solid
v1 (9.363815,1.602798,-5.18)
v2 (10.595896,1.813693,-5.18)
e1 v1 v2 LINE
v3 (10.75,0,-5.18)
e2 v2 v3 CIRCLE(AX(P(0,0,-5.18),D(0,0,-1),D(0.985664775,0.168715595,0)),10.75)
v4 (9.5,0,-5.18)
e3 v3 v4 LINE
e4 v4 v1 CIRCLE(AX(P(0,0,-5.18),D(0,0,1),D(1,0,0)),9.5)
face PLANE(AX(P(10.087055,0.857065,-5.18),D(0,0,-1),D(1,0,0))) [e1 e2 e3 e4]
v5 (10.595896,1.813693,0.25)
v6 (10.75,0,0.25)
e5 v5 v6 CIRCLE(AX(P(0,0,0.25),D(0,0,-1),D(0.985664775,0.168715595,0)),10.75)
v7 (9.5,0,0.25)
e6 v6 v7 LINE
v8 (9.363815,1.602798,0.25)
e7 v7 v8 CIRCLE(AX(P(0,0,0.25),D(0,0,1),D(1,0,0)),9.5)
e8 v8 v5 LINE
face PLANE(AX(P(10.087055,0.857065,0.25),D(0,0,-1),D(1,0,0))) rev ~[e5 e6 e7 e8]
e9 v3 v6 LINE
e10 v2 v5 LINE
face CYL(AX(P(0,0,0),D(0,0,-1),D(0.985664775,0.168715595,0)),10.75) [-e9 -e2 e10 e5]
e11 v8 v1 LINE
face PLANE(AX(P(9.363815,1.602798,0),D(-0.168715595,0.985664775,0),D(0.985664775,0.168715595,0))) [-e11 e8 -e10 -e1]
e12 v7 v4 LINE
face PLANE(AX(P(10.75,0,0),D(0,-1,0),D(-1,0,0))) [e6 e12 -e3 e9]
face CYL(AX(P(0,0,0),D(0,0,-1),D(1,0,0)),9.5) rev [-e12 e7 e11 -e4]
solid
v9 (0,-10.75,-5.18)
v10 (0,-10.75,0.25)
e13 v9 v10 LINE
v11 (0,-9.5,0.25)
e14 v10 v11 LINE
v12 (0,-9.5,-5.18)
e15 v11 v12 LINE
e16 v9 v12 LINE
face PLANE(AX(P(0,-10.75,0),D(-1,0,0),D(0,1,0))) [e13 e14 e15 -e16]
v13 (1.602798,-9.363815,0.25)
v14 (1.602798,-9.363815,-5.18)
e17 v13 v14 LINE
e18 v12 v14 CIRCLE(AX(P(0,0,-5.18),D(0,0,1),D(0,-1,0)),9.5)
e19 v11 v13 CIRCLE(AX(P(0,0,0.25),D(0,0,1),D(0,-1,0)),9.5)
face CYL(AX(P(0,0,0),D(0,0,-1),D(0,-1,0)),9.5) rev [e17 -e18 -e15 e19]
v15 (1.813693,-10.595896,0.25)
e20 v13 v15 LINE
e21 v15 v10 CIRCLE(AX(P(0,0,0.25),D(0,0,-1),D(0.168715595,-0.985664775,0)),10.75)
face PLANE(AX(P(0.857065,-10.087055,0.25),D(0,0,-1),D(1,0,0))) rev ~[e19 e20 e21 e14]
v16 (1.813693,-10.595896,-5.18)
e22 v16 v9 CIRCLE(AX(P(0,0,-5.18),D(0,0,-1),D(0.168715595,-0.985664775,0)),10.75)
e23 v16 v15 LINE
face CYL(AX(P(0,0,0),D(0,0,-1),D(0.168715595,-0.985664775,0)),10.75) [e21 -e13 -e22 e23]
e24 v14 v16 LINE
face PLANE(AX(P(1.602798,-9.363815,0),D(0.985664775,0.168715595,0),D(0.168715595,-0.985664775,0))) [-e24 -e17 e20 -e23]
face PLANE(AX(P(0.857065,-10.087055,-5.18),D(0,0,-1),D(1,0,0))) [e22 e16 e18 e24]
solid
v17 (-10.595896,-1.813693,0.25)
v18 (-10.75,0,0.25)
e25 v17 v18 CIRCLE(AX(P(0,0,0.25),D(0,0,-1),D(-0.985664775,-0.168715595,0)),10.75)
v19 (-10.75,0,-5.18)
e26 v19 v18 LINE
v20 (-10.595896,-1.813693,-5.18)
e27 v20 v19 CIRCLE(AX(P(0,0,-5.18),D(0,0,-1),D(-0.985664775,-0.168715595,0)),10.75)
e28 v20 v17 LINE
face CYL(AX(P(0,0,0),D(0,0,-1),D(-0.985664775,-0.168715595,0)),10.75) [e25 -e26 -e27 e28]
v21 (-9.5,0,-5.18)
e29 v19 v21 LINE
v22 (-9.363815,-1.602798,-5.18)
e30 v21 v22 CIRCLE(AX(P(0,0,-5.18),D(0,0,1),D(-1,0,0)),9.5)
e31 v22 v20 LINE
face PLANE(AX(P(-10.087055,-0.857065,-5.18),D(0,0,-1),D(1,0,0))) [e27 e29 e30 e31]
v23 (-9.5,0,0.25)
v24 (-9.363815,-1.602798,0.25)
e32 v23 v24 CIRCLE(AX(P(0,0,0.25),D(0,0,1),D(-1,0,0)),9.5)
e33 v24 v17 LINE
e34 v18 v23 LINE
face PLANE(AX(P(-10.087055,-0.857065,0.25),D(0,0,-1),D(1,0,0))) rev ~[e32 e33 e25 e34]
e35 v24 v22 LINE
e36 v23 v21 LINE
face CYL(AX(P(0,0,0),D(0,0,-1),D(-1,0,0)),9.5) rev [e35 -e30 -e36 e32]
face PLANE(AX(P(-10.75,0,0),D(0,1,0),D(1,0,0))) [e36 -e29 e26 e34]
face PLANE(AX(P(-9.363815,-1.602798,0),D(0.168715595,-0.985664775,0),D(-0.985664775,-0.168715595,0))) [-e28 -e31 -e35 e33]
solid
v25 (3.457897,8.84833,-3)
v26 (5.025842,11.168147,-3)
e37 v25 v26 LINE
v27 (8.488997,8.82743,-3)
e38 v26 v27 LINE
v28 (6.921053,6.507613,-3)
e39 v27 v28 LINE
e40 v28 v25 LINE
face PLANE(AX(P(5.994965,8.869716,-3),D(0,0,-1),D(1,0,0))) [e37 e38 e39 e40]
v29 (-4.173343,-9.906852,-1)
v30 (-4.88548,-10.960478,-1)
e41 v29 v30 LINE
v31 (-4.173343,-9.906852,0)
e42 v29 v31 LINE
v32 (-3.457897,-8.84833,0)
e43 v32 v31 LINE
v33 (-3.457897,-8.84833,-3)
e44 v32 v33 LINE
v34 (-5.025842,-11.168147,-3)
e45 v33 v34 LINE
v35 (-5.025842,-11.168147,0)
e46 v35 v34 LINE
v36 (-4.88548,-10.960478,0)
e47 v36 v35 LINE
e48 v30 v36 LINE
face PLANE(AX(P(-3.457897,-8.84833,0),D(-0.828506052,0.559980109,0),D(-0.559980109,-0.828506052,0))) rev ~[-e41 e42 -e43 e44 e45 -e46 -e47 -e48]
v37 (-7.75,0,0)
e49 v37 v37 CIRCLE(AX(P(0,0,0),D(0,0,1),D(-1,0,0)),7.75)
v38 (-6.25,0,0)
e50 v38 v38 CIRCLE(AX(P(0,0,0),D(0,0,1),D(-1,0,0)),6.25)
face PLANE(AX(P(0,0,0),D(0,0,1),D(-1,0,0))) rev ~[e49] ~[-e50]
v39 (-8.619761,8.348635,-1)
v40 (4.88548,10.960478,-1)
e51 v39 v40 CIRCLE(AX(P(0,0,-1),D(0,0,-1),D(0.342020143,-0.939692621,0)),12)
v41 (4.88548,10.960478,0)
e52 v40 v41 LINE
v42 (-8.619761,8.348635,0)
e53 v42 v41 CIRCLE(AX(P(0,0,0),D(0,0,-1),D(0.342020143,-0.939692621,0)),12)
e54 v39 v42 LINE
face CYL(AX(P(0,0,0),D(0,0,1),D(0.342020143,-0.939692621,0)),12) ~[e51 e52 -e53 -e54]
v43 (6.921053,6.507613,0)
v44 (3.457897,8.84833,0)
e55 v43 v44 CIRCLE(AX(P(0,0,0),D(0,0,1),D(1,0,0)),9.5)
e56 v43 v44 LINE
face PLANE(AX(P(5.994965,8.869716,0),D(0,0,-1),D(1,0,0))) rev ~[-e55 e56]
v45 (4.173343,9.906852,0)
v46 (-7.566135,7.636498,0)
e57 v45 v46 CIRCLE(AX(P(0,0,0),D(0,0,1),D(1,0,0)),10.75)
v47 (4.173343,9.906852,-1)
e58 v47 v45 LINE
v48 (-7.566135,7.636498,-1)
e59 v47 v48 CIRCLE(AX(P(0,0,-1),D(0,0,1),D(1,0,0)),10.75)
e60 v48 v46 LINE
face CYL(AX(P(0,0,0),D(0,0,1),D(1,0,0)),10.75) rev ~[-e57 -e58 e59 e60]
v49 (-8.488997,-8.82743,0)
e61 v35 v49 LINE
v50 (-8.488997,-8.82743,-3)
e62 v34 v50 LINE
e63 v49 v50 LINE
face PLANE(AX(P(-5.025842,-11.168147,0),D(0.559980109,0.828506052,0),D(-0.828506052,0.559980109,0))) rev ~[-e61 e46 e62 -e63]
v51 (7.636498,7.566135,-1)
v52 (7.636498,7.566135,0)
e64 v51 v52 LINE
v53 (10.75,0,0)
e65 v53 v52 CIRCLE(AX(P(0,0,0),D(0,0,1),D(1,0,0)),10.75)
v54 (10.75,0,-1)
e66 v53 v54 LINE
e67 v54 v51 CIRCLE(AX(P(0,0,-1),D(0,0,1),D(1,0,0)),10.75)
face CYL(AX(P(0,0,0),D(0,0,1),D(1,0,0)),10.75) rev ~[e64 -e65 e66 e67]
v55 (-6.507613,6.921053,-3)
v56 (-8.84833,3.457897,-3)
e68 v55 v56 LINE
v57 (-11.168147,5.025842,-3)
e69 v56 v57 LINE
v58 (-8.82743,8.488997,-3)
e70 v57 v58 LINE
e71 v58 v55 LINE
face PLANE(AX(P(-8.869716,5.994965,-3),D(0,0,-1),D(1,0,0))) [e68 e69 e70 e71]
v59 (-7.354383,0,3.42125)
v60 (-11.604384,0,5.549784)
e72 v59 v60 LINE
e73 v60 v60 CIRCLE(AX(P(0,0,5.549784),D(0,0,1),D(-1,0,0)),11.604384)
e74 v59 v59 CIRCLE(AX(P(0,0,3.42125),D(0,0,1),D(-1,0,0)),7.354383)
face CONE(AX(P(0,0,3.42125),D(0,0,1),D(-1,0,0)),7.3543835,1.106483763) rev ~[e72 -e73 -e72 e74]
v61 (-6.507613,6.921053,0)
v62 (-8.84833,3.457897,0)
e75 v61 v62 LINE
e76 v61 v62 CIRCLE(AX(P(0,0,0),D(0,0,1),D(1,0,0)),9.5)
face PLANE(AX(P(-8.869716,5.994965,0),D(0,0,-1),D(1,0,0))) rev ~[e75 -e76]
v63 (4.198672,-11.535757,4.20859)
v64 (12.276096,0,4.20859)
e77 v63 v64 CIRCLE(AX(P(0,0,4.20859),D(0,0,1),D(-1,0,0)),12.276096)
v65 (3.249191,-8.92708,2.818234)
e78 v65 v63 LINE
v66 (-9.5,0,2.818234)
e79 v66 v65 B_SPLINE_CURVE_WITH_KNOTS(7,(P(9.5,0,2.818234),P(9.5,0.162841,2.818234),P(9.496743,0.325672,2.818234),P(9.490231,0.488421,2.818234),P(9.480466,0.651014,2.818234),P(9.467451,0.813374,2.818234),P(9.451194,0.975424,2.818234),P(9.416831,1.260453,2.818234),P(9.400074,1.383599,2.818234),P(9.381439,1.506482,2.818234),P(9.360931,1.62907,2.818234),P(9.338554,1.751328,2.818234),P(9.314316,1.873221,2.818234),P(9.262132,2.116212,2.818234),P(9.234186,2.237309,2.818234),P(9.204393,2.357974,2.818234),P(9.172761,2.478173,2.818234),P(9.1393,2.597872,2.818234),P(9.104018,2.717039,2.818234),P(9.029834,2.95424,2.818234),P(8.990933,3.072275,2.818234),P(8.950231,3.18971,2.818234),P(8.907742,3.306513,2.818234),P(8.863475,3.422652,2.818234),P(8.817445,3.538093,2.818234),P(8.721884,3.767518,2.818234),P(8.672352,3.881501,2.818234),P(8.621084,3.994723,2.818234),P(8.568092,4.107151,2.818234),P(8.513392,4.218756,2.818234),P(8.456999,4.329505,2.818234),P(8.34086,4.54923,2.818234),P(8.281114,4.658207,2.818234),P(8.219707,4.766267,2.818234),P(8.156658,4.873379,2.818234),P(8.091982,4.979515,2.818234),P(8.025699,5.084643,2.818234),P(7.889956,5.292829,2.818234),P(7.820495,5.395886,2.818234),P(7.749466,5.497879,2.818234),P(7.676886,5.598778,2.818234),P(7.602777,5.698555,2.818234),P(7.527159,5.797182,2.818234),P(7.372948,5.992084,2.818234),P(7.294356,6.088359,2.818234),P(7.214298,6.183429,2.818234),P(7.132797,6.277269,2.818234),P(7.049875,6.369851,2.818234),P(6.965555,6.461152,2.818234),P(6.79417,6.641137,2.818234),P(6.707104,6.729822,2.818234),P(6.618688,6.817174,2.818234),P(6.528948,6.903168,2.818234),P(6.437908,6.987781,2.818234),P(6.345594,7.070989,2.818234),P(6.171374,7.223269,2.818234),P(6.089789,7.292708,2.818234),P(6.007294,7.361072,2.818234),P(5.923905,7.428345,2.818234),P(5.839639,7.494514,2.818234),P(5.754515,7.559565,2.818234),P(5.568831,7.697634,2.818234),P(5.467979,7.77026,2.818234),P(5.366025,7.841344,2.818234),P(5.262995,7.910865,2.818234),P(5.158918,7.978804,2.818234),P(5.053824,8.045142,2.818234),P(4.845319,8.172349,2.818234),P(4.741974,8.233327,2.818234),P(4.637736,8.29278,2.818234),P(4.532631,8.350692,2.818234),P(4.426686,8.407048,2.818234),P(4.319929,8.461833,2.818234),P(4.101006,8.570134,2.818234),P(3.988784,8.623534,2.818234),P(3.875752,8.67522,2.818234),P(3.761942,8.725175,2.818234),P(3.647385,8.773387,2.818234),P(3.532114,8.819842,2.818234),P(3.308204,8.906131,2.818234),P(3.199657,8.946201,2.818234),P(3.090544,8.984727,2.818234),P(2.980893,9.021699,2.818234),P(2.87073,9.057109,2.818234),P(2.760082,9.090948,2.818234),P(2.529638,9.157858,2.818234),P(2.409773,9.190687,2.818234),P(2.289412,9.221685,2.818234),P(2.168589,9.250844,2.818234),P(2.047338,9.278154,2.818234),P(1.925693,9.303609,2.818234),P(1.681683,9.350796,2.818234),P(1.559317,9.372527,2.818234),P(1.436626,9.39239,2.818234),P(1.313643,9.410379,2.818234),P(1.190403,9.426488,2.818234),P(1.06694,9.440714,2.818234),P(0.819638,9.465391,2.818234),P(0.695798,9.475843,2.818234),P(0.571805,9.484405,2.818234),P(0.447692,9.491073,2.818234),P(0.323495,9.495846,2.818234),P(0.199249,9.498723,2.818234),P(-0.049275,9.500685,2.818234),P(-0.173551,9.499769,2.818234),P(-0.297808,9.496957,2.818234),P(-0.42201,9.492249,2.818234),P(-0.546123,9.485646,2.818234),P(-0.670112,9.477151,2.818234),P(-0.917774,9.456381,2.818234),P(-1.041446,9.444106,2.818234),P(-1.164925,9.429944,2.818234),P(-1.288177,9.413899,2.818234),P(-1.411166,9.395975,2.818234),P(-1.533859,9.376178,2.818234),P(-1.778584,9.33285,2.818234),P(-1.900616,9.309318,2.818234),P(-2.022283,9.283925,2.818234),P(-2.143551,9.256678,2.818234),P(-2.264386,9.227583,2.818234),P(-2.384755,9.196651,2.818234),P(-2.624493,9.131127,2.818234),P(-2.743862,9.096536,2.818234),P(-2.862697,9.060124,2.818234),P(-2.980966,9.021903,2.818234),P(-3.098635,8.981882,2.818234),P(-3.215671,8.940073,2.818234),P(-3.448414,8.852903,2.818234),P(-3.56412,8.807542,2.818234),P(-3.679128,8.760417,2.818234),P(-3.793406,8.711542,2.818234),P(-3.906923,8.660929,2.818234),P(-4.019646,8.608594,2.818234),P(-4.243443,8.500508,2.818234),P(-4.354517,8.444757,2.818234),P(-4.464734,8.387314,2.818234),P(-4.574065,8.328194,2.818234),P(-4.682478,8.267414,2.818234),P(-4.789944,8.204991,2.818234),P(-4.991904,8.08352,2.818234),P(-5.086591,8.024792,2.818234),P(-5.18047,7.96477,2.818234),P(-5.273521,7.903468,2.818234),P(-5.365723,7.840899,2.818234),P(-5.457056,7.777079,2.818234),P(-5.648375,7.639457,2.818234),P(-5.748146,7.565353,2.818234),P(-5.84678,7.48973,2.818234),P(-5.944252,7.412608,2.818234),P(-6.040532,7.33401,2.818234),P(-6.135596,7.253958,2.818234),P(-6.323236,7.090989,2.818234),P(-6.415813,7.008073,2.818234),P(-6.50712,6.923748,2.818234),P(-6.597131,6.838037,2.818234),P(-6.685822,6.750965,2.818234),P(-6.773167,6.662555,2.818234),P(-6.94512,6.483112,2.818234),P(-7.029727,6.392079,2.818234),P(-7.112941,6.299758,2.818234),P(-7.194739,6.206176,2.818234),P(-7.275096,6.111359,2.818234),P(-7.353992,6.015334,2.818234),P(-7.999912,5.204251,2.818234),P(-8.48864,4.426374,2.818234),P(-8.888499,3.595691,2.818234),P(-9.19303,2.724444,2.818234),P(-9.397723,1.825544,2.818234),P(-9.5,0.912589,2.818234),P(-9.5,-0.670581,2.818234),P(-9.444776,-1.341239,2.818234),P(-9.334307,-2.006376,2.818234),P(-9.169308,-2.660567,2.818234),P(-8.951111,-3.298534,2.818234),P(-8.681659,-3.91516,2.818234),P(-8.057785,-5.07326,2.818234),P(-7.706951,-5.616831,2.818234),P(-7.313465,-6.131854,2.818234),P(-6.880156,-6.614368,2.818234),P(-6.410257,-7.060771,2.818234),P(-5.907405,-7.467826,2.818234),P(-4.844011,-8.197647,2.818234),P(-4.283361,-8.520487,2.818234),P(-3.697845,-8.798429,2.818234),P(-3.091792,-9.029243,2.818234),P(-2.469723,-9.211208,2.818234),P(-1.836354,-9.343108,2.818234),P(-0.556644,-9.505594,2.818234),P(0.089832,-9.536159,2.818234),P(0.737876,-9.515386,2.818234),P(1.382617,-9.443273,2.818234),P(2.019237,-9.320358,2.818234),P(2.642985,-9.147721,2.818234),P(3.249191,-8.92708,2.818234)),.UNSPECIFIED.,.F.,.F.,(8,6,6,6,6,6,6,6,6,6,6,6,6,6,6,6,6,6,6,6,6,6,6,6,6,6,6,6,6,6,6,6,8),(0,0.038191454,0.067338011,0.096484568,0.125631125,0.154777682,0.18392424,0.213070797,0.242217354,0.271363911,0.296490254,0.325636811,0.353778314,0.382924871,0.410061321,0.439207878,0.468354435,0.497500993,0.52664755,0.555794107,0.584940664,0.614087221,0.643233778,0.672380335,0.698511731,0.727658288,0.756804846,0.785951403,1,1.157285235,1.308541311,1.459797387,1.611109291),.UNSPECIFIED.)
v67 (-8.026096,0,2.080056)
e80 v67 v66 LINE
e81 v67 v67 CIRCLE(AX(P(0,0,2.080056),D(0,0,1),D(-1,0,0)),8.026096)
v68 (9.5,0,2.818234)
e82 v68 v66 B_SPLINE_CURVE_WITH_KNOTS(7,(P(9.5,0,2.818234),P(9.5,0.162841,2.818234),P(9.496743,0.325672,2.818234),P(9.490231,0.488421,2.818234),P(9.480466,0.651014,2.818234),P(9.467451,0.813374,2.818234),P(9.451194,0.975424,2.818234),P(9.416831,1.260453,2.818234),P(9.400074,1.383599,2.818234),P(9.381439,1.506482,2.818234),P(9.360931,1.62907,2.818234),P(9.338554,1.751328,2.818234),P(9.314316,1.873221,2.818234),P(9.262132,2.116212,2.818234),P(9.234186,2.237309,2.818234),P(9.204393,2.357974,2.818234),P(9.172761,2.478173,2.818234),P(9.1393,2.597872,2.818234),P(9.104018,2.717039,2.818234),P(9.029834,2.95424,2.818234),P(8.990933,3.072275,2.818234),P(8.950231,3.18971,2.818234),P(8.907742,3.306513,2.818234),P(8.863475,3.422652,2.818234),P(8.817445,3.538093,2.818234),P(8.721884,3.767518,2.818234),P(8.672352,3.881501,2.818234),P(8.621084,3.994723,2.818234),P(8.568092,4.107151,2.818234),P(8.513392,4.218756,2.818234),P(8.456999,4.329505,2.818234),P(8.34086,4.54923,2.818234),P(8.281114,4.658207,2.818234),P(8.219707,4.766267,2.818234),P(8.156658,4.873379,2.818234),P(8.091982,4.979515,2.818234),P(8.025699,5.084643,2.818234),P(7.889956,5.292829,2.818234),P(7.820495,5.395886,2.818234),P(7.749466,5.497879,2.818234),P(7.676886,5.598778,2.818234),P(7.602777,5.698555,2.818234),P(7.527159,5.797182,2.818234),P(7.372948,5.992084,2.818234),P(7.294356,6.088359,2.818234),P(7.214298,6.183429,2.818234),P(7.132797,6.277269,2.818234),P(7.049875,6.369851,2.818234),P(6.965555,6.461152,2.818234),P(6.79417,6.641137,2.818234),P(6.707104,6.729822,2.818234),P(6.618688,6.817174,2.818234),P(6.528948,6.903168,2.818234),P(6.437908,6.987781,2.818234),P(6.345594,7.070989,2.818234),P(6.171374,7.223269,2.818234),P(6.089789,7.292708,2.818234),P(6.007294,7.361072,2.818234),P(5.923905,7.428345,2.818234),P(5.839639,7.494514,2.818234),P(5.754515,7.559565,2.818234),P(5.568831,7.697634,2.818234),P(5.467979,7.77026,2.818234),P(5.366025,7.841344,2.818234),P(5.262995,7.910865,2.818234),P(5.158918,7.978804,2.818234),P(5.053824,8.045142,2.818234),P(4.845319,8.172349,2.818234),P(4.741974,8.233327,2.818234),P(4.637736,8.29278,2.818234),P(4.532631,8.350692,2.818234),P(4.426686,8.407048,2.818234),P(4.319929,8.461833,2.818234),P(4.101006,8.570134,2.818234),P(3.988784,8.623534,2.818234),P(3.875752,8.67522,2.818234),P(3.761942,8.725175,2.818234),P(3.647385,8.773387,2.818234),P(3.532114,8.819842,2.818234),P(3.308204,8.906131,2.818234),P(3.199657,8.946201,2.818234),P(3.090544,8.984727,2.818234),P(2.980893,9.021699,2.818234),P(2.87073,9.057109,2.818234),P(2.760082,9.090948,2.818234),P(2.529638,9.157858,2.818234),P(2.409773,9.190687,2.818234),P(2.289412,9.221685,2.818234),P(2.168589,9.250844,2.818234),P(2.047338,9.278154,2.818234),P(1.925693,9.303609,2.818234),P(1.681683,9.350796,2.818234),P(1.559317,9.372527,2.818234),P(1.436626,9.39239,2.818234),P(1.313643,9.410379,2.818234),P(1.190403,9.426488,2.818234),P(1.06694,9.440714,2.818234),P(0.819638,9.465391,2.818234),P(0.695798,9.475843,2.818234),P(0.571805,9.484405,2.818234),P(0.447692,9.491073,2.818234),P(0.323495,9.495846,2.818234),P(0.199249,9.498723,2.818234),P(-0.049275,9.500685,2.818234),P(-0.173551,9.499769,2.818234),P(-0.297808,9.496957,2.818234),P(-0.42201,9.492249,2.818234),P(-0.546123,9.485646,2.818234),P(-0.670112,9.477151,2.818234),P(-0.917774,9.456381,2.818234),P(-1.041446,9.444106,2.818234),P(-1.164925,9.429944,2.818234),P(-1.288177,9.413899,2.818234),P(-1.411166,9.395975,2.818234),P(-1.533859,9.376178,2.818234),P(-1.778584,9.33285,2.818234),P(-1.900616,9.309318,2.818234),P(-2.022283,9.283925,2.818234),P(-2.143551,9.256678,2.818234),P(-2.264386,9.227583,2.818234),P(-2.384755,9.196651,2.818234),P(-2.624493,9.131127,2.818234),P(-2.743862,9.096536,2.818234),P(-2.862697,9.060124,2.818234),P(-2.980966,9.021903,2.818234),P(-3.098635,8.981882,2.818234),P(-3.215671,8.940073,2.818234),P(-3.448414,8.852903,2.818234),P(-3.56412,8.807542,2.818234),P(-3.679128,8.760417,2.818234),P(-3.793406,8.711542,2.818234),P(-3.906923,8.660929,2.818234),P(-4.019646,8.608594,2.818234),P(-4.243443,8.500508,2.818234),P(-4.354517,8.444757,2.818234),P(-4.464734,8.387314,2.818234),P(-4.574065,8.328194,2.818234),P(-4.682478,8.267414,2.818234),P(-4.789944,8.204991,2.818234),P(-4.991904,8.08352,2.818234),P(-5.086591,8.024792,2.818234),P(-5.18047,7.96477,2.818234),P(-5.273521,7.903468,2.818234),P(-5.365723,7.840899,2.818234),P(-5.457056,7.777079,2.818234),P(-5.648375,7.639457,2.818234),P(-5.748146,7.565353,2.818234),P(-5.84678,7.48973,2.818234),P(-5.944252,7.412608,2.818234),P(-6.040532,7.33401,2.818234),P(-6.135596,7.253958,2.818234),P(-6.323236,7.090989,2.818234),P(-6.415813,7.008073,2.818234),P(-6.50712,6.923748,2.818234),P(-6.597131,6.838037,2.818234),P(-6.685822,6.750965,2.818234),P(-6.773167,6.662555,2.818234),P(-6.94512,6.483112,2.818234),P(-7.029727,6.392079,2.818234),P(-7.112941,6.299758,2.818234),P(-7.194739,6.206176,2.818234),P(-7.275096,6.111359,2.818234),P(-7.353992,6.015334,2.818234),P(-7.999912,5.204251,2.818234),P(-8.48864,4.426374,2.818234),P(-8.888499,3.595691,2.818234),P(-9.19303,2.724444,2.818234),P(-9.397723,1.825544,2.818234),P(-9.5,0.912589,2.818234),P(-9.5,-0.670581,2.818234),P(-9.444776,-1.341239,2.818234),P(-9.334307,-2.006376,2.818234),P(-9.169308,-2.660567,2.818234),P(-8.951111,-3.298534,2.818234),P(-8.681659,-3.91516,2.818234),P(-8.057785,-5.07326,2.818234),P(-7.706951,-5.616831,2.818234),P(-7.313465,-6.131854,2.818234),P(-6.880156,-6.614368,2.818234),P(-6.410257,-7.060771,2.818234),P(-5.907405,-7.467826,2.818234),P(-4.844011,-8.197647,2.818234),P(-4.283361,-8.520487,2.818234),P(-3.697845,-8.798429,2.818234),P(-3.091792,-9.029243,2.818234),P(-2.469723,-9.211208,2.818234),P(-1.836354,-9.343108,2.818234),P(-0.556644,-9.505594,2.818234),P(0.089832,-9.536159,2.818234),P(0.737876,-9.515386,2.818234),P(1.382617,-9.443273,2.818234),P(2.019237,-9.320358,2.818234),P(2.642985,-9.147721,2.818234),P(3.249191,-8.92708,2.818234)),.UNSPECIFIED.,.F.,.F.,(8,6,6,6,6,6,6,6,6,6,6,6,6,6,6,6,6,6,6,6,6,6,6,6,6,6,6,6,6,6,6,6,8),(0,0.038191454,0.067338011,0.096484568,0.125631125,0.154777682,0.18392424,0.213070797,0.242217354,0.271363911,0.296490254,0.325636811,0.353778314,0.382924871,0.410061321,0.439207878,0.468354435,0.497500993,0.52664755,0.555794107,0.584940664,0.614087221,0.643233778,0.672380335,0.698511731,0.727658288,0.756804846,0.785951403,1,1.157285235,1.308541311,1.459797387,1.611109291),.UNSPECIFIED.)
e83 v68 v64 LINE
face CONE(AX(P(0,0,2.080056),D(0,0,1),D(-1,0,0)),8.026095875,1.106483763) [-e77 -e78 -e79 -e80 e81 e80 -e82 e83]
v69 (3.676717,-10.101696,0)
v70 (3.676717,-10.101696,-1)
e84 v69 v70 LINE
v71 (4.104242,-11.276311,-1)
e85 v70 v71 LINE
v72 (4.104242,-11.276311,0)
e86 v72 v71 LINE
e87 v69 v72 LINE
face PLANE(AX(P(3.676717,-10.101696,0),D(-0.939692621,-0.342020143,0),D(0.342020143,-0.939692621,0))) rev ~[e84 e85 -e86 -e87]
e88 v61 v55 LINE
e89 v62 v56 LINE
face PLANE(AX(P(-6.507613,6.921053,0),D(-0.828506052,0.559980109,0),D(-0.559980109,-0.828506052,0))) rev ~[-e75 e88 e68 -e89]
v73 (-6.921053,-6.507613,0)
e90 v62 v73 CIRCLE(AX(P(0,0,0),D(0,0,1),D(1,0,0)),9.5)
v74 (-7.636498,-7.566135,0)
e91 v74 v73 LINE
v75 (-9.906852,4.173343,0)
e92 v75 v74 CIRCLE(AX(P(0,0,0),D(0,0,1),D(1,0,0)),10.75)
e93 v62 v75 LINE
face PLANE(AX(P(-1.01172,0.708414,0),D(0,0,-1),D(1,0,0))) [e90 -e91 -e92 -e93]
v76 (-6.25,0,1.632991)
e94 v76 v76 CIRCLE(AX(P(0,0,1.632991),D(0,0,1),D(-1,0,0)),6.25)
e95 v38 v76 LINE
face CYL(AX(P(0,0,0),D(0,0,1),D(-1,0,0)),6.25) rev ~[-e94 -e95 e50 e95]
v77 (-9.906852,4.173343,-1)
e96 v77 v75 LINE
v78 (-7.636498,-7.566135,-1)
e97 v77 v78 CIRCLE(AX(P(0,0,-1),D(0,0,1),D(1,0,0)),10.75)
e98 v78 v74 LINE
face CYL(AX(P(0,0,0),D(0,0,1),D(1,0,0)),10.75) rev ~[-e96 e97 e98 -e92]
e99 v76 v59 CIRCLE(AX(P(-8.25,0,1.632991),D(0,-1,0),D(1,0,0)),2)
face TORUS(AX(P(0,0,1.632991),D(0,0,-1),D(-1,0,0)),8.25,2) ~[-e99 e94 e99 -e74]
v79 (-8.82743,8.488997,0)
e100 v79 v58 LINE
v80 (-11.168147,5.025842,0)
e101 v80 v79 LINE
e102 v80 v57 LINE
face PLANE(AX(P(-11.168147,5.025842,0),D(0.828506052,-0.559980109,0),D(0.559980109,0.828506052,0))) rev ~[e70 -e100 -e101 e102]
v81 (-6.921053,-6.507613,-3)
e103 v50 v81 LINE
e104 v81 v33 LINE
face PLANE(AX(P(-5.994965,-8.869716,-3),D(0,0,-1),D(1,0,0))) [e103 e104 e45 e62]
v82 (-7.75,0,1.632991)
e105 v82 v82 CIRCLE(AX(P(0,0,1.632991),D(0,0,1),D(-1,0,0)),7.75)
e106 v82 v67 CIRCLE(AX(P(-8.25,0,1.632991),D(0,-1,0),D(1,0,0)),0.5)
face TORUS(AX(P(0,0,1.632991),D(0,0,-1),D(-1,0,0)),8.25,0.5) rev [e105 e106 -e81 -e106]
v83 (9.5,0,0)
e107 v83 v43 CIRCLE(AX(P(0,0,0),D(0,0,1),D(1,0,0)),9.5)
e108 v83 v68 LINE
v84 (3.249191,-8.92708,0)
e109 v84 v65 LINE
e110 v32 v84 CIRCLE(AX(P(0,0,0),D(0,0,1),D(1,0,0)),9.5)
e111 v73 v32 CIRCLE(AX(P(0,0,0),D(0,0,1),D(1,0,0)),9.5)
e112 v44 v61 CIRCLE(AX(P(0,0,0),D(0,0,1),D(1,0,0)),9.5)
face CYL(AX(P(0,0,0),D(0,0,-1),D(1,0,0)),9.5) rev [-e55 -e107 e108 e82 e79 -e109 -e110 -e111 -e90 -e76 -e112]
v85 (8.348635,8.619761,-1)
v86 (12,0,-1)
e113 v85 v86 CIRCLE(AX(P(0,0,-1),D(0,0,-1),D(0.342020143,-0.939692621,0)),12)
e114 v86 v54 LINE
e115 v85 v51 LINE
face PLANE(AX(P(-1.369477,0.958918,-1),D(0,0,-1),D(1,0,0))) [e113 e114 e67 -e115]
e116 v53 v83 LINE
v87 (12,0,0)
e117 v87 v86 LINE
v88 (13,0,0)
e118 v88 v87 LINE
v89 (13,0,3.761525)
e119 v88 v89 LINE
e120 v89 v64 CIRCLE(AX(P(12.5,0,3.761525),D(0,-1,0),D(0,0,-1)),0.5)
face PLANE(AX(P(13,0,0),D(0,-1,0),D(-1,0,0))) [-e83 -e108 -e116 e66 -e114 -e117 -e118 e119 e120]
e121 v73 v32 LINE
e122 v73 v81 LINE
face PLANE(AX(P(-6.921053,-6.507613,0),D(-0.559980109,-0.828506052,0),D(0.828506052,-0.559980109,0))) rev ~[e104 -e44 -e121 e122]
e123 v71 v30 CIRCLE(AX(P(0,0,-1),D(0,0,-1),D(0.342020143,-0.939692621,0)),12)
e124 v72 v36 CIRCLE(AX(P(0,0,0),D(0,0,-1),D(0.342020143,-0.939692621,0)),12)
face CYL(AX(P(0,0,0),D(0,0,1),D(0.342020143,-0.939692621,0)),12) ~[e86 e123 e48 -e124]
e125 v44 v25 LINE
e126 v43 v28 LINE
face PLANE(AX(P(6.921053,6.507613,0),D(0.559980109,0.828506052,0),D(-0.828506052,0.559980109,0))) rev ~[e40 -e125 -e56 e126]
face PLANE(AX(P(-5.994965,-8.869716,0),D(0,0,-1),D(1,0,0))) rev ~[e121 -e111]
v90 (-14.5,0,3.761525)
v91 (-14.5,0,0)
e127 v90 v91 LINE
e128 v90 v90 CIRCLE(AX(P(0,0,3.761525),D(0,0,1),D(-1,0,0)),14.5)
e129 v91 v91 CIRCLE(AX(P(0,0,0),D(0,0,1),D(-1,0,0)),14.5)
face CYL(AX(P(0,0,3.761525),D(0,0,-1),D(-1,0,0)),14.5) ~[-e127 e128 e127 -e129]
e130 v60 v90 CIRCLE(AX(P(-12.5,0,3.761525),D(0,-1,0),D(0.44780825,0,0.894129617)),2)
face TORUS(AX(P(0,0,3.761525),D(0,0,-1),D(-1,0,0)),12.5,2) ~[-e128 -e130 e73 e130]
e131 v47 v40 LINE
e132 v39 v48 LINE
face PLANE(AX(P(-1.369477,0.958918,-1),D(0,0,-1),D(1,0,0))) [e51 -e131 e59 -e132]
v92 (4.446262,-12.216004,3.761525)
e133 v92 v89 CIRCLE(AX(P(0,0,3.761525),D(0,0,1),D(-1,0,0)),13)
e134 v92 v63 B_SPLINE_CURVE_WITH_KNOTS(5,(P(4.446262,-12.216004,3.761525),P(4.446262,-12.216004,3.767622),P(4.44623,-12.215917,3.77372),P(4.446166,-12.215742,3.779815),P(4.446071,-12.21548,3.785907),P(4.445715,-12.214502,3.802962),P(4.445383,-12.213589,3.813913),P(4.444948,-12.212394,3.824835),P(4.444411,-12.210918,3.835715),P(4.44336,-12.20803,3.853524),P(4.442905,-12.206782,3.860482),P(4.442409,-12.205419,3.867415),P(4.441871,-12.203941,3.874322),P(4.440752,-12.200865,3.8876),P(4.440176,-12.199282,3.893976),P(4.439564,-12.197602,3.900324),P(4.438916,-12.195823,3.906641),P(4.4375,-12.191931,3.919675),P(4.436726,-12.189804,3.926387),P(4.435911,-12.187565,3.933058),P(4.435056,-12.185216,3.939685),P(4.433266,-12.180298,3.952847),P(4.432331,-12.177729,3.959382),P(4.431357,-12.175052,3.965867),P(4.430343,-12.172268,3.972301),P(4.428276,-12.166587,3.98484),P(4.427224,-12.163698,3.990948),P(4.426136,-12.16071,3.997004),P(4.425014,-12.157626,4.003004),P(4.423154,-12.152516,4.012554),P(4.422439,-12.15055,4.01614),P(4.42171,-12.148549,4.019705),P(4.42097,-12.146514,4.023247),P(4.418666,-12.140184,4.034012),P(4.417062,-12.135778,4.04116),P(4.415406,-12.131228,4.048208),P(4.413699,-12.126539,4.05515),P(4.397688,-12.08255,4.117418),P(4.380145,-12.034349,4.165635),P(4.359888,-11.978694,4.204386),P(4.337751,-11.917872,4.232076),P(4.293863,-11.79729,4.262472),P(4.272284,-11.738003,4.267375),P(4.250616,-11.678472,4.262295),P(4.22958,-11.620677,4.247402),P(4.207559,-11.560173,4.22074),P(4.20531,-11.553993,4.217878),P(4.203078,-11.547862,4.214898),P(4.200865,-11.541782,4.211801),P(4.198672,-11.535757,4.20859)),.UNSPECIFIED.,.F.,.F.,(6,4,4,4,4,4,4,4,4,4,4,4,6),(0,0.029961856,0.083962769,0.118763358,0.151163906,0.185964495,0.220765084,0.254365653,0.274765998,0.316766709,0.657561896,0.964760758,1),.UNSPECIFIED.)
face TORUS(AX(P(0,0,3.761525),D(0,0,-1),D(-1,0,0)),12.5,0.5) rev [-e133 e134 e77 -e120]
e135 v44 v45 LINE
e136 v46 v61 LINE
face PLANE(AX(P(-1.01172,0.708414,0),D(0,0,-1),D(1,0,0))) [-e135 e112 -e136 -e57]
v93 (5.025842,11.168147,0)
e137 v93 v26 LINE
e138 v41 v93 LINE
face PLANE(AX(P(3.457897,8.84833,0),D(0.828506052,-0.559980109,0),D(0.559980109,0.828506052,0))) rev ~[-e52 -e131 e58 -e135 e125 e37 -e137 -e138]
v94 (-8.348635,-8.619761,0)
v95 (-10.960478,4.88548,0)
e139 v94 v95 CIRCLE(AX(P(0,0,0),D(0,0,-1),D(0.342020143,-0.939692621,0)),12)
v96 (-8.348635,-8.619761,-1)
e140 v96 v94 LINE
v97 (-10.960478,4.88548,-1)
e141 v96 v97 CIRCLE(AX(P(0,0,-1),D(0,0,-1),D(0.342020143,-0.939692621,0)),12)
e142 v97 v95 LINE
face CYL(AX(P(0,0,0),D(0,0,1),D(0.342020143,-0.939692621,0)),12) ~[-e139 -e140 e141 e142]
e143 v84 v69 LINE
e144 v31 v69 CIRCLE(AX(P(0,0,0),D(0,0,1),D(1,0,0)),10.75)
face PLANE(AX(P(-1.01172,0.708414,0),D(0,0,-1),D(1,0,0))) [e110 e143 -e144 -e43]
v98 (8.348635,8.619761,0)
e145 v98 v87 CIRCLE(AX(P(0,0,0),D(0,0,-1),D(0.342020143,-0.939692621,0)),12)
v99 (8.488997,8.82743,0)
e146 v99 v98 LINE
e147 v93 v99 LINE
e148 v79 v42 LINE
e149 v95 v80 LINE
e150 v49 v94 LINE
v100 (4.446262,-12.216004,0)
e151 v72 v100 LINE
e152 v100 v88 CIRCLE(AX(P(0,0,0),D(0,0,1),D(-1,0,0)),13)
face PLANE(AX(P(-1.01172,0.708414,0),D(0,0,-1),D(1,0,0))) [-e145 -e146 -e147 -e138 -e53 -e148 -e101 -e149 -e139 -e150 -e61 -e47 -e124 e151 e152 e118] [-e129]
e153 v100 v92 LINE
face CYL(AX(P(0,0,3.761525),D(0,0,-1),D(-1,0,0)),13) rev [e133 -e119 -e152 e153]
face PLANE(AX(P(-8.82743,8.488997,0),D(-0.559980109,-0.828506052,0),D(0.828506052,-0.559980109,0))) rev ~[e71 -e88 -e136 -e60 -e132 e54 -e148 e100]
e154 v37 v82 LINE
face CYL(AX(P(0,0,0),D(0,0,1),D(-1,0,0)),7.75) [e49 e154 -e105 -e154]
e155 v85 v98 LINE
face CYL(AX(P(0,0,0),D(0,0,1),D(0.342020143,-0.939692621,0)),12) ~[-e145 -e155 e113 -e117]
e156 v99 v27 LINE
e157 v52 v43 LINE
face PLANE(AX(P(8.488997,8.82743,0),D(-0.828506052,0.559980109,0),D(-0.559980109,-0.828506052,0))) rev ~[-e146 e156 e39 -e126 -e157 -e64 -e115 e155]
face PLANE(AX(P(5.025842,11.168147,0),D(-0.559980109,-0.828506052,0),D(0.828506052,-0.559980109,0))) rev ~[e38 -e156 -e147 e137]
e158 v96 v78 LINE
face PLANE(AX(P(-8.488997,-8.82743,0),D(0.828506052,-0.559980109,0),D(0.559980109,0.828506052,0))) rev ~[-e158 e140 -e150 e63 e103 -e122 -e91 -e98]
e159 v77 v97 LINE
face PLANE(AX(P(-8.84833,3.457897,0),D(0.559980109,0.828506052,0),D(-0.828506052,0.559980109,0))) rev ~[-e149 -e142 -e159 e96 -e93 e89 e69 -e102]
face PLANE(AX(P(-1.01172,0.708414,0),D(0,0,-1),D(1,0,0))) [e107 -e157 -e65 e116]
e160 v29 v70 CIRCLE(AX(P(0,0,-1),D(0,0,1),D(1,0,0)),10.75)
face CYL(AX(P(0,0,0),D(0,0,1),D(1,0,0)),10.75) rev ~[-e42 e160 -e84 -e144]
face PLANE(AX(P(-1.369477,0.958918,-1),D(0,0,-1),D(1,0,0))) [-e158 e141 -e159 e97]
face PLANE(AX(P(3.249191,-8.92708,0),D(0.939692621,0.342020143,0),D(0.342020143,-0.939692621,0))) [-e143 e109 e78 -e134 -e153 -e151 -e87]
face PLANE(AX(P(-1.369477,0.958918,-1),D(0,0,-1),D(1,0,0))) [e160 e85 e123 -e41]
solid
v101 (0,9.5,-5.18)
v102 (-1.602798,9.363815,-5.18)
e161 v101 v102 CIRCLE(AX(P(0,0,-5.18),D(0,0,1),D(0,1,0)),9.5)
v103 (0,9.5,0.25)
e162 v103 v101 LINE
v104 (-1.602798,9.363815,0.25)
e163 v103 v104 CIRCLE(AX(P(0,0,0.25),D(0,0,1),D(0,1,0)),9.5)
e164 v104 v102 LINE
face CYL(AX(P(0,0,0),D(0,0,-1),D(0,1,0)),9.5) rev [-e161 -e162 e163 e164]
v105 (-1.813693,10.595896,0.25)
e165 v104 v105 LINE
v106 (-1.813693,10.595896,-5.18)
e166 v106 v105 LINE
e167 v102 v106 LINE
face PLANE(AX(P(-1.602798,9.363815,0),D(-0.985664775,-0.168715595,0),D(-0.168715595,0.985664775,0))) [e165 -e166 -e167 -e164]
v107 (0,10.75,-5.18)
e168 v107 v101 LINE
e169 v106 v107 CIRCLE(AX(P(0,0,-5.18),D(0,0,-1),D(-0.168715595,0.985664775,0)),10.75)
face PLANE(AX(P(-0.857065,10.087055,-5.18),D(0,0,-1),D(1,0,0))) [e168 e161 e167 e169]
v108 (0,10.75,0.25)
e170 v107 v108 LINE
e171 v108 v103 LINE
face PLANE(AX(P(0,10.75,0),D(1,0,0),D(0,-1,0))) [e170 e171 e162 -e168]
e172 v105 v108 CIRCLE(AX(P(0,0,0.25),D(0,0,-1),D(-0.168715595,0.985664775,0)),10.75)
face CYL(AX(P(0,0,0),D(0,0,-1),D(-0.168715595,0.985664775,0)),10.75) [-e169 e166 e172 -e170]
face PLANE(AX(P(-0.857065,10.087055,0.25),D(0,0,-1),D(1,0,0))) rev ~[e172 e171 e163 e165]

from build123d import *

# Parameters (mm, degrees)
F2_T           = -1.5
F6_DEPTH       = 3
F8_DEPTH       = 1
F10_DEPTH      = 5.18
F10_DEPTH_BACK = 0.25


with BuildPart() as f1:
    # F0 (on Front) → F1 (revolve)
    with BuildSketch(Plane.XZ):
        with BuildLine():
            Line((-14.5, 0), (-6.25, 0))
            Line((-6.25, 0), (-6.25, 1.632991153))
            ThreePointArc((-6.25, 1.632991153), (-6.5483488901, 2.6838876751), (-7.3543835, 3.4212503862))
            Line((-7.3543835, 3.4212503862), (-11.6043835, 5.5497841325))
            ThreePointArc((-11.6043835, 5.5497841325), (-13.550896522, 5.4631760093), (-14.5, 3.7615248994))
            Line((-14.5, 3.7615248994), (-14.5, 0))
        make_face()
    revolve(axis=Axis((0, 0, 5.6854286231), (0, 0, 1)))

    # F2
    f2_openings = [f1.faces().sort_by_distance(p)[0] for p in [
        (14.089878, 0, 0),
    ]]
    offset(amount=F2_T, openings=f2_openings)

    # F3 (on face) → F4 (join, up to the next surface of F1)
    with BuildSketch(Plane(origin=(0, 0, 0), x_dir=(1, 0, 0), z_dir=(0, 0, -1))):
        with BuildLine():
            ThreePointArc((4.4462618632, 12.2160040702), (-10.6489765758, -7.4564936726), (13, 0))
            Line((13, 0), (9.5, 0))
            ThreePointArc((9.5, 0), (-7.7819444207, -5.4489761453), (3.2491913616, 8.9270798975))
            Line((3.2491913616, 8.9270798975), (4.4462618632, 12.2160040702))
        make_face()
    extrude(until=Until.NEXT, dir=(0, 0, 1))

    # F5 (on face) → F6 (join)
    with BuildSketch(Plane(origin=(0, 0, 0), x_dir=(1, 0, 0), z_dir=(0, 0, -1))):
        with BuildLine():
            Line((-8.4889969369, 8.8274302143), (-6.9210526316, 6.5076132699))
            ThreePointArc((-6.9210526316, 6.5076132699), (-5.3198110359, 7.8708074899), (-3.457897336, 8.8483301257))
            Line((-3.457897336, 8.8483301257), (-5.0258416413, 11.1681470701))
            Line((-5.0258416413, 11.1681470701), (-8.4889969369, 8.8274302143))
        make_face()
        with BuildLine():
            Line((-8.8274302143, -8.4889969369), (-6.5076132699, -6.9210526316))
            ThreePointArc((-6.5076132699, -6.9210526316), (-7.8708074899, -5.3198110359), (-8.8483301257, -3.457897336))
            Line((-8.8483301257, -3.457897336), (-11.1681470701, -5.0258416413))
            Line((-11.1681470701, -5.0258416413), (-8.8274302143, -8.4889969369))
        make_face()
        with BuildLine():
            Line((8.4889969369, -8.8274302143), (6.9210526316, -6.5076132699))
            ThreePointArc((6.9210526316, -6.5076132699), (5.3198110359, -7.8708074899), (3.457897336, -8.8483301257))
            Line((3.457897336, -8.8483301257), (5.0258416413, -11.1681470701))
            Line((5.0258416413, -11.1681470701), (8.4889969369, -8.8274302143))
        make_face()
        with BuildLine():
            ThreePointArc((3.457897336, -8.8483301257), (5.3198110359, -7.8708074899), (6.9210526316, -6.5076132699))
            Line((6.9210526316, -6.5076132699), (3.457897336, -8.8483301257))
        make_face()
        with BuildLine():
            ThreePointArc((-8.8483301257, -3.457897336), (-7.8708074899, -5.3198110359), (-6.5076132699, -6.9210526316))
            Line((-6.5076132699, -6.9210526316), (-8.8483301257, -3.457897336))
        make_face()
        with BuildLine():
            ThreePointArc((-3.457897336, 8.8483301257), (-5.3198110359, 7.8708074899), (-6.9210526316, 6.5076132699))
            Line((-6.9210526316, 6.5076132699), (-3.457897336, 8.8483301257))
        make_face()
    extrude(amount=F6_DEPTH)

    # F7 (on face) → F8 (join)
    with BuildSketch(Plane(origin=(0, 0, 0), x_dir=(1, 0, 0), z_dir=(0, 0, -1))):
        with BuildLine():
            Line((3.6767165408, 10.1016956734), (4.1042417199, 11.2763114494))
            ThreePointArc((4.1042417199, 11.2763114494), (-9.8298245315, -6.8829172362), (12, 0))
            Line((12, 0), (10.75, 0))
            ThreePointArc((10.75, 0), (-8.8058844761, -6.1659466908), (3.6767165408, 10.1016956734))
        make_face()
    extrude(amount=F8_DEPTH)


with BuildPart() as f10:
    # F9 (on face) → F10 (new body, two sides)
    with BuildSketch(Plane(origin=(0, 0, 0), x_dir=(1, 0, 0), z_dir=(0, 0, -1))) as f10_sk:
        with BuildLine():
            Line((0, 10.75), (0, 9.5))
            ThreePointArc((0, 9.5), (0.8042866653, 9.465892613), (1.6027981482, 9.36381536))
            Line((1.6027981482, 9.36381536), (1.8136926414, 10.5958963284))
            ThreePointArc((1.8136926414, 10.5958963284), (0.9101138581, 10.7114047989), (0, 10.75))
        make_face()
    extrude(amount=F10_DEPTH)
    extrude(f10_sk.sketch, amount=-F10_DEPTH_BACK)


with BuildPart() as f10b:
    # F9 (on face) → F10, piece 2 (new body, two sides)
    with BuildSketch(Plane(origin=(0, 0, 0), x_dir=(1, 0, 0), z_dir=(0, 0, -1))) as f10_2_sk:
        with BuildLine():
            Line((10.75, 0), (9.5, 0))
            ThreePointArc((9.5, 0), (9.465892613, -0.8042866653), (9.36381536, -1.6027981482))
            Line((9.36381536, -1.6027981482), (10.5958963284, -1.8136926414))
            ThreePointArc((10.5958963284, -1.8136926414), (10.7114047989, -0.9101138581), (10.75, 0))
        make_face()
    extrude(amount=F10_DEPTH)
    extrude(f10_2_sk.sketch, amount=-F10_DEPTH_BACK)


with BuildPart() as f10c:
    # F9 (on face) → F10, piece 3 (new body, two sides)
    with BuildSketch(Plane(origin=(0, 0, 0), x_dir=(1, 0, 0), z_dir=(0, 0, -1))) as f10_3_sk:
        with BuildLine():
            Line((0, -10.75), (0, -9.5))
            ThreePointArc((0, -9.5), (-0.8042866653, -9.465892613), (-1.6027981482, -9.36381536))
            Line((-1.6027981482, -9.36381536), (-1.8136926414, -10.5958963284))
            ThreePointArc((-1.8136926414, -10.5958963284), (-0.9101138581, -10.7114047989), (0, -10.75))
        make_face()
    extrude(amount=F10_DEPTH)
    extrude(f10_3_sk.sketch, amount=-F10_DEPTH_BACK)


with BuildPart() as f10d:
    # F9 (on face) → F10, piece 4 (new body, two sides)
    with BuildSketch(Plane(origin=(0, 0, 0), x_dir=(1, 0, 0), z_dir=(0, 0, -1))) as f10_4_sk:
        with BuildLine():
            Line((-10.75, 0), (-9.5, 0))
            ThreePointArc((-9.5, 0), (-9.465892613, 0.8042866653), (-9.36381536, 1.6027981482))
            Line((-9.36381536, 1.6027981482), (-10.5958963284, 1.8136926414))
            ThreePointArc((-10.5958963284, 1.8136926414), (-10.7114047989, 0.9101138581), (-10.75, 0))
        make_face()
    extrude(amount=F10_DEPTH)
    extrude(f10_4_sk.sketch, amount=-F10_DEPTH_BACK)


solid = Compound([f1.part, f10.part, f10b.part, f10c.part, f10d.part])
